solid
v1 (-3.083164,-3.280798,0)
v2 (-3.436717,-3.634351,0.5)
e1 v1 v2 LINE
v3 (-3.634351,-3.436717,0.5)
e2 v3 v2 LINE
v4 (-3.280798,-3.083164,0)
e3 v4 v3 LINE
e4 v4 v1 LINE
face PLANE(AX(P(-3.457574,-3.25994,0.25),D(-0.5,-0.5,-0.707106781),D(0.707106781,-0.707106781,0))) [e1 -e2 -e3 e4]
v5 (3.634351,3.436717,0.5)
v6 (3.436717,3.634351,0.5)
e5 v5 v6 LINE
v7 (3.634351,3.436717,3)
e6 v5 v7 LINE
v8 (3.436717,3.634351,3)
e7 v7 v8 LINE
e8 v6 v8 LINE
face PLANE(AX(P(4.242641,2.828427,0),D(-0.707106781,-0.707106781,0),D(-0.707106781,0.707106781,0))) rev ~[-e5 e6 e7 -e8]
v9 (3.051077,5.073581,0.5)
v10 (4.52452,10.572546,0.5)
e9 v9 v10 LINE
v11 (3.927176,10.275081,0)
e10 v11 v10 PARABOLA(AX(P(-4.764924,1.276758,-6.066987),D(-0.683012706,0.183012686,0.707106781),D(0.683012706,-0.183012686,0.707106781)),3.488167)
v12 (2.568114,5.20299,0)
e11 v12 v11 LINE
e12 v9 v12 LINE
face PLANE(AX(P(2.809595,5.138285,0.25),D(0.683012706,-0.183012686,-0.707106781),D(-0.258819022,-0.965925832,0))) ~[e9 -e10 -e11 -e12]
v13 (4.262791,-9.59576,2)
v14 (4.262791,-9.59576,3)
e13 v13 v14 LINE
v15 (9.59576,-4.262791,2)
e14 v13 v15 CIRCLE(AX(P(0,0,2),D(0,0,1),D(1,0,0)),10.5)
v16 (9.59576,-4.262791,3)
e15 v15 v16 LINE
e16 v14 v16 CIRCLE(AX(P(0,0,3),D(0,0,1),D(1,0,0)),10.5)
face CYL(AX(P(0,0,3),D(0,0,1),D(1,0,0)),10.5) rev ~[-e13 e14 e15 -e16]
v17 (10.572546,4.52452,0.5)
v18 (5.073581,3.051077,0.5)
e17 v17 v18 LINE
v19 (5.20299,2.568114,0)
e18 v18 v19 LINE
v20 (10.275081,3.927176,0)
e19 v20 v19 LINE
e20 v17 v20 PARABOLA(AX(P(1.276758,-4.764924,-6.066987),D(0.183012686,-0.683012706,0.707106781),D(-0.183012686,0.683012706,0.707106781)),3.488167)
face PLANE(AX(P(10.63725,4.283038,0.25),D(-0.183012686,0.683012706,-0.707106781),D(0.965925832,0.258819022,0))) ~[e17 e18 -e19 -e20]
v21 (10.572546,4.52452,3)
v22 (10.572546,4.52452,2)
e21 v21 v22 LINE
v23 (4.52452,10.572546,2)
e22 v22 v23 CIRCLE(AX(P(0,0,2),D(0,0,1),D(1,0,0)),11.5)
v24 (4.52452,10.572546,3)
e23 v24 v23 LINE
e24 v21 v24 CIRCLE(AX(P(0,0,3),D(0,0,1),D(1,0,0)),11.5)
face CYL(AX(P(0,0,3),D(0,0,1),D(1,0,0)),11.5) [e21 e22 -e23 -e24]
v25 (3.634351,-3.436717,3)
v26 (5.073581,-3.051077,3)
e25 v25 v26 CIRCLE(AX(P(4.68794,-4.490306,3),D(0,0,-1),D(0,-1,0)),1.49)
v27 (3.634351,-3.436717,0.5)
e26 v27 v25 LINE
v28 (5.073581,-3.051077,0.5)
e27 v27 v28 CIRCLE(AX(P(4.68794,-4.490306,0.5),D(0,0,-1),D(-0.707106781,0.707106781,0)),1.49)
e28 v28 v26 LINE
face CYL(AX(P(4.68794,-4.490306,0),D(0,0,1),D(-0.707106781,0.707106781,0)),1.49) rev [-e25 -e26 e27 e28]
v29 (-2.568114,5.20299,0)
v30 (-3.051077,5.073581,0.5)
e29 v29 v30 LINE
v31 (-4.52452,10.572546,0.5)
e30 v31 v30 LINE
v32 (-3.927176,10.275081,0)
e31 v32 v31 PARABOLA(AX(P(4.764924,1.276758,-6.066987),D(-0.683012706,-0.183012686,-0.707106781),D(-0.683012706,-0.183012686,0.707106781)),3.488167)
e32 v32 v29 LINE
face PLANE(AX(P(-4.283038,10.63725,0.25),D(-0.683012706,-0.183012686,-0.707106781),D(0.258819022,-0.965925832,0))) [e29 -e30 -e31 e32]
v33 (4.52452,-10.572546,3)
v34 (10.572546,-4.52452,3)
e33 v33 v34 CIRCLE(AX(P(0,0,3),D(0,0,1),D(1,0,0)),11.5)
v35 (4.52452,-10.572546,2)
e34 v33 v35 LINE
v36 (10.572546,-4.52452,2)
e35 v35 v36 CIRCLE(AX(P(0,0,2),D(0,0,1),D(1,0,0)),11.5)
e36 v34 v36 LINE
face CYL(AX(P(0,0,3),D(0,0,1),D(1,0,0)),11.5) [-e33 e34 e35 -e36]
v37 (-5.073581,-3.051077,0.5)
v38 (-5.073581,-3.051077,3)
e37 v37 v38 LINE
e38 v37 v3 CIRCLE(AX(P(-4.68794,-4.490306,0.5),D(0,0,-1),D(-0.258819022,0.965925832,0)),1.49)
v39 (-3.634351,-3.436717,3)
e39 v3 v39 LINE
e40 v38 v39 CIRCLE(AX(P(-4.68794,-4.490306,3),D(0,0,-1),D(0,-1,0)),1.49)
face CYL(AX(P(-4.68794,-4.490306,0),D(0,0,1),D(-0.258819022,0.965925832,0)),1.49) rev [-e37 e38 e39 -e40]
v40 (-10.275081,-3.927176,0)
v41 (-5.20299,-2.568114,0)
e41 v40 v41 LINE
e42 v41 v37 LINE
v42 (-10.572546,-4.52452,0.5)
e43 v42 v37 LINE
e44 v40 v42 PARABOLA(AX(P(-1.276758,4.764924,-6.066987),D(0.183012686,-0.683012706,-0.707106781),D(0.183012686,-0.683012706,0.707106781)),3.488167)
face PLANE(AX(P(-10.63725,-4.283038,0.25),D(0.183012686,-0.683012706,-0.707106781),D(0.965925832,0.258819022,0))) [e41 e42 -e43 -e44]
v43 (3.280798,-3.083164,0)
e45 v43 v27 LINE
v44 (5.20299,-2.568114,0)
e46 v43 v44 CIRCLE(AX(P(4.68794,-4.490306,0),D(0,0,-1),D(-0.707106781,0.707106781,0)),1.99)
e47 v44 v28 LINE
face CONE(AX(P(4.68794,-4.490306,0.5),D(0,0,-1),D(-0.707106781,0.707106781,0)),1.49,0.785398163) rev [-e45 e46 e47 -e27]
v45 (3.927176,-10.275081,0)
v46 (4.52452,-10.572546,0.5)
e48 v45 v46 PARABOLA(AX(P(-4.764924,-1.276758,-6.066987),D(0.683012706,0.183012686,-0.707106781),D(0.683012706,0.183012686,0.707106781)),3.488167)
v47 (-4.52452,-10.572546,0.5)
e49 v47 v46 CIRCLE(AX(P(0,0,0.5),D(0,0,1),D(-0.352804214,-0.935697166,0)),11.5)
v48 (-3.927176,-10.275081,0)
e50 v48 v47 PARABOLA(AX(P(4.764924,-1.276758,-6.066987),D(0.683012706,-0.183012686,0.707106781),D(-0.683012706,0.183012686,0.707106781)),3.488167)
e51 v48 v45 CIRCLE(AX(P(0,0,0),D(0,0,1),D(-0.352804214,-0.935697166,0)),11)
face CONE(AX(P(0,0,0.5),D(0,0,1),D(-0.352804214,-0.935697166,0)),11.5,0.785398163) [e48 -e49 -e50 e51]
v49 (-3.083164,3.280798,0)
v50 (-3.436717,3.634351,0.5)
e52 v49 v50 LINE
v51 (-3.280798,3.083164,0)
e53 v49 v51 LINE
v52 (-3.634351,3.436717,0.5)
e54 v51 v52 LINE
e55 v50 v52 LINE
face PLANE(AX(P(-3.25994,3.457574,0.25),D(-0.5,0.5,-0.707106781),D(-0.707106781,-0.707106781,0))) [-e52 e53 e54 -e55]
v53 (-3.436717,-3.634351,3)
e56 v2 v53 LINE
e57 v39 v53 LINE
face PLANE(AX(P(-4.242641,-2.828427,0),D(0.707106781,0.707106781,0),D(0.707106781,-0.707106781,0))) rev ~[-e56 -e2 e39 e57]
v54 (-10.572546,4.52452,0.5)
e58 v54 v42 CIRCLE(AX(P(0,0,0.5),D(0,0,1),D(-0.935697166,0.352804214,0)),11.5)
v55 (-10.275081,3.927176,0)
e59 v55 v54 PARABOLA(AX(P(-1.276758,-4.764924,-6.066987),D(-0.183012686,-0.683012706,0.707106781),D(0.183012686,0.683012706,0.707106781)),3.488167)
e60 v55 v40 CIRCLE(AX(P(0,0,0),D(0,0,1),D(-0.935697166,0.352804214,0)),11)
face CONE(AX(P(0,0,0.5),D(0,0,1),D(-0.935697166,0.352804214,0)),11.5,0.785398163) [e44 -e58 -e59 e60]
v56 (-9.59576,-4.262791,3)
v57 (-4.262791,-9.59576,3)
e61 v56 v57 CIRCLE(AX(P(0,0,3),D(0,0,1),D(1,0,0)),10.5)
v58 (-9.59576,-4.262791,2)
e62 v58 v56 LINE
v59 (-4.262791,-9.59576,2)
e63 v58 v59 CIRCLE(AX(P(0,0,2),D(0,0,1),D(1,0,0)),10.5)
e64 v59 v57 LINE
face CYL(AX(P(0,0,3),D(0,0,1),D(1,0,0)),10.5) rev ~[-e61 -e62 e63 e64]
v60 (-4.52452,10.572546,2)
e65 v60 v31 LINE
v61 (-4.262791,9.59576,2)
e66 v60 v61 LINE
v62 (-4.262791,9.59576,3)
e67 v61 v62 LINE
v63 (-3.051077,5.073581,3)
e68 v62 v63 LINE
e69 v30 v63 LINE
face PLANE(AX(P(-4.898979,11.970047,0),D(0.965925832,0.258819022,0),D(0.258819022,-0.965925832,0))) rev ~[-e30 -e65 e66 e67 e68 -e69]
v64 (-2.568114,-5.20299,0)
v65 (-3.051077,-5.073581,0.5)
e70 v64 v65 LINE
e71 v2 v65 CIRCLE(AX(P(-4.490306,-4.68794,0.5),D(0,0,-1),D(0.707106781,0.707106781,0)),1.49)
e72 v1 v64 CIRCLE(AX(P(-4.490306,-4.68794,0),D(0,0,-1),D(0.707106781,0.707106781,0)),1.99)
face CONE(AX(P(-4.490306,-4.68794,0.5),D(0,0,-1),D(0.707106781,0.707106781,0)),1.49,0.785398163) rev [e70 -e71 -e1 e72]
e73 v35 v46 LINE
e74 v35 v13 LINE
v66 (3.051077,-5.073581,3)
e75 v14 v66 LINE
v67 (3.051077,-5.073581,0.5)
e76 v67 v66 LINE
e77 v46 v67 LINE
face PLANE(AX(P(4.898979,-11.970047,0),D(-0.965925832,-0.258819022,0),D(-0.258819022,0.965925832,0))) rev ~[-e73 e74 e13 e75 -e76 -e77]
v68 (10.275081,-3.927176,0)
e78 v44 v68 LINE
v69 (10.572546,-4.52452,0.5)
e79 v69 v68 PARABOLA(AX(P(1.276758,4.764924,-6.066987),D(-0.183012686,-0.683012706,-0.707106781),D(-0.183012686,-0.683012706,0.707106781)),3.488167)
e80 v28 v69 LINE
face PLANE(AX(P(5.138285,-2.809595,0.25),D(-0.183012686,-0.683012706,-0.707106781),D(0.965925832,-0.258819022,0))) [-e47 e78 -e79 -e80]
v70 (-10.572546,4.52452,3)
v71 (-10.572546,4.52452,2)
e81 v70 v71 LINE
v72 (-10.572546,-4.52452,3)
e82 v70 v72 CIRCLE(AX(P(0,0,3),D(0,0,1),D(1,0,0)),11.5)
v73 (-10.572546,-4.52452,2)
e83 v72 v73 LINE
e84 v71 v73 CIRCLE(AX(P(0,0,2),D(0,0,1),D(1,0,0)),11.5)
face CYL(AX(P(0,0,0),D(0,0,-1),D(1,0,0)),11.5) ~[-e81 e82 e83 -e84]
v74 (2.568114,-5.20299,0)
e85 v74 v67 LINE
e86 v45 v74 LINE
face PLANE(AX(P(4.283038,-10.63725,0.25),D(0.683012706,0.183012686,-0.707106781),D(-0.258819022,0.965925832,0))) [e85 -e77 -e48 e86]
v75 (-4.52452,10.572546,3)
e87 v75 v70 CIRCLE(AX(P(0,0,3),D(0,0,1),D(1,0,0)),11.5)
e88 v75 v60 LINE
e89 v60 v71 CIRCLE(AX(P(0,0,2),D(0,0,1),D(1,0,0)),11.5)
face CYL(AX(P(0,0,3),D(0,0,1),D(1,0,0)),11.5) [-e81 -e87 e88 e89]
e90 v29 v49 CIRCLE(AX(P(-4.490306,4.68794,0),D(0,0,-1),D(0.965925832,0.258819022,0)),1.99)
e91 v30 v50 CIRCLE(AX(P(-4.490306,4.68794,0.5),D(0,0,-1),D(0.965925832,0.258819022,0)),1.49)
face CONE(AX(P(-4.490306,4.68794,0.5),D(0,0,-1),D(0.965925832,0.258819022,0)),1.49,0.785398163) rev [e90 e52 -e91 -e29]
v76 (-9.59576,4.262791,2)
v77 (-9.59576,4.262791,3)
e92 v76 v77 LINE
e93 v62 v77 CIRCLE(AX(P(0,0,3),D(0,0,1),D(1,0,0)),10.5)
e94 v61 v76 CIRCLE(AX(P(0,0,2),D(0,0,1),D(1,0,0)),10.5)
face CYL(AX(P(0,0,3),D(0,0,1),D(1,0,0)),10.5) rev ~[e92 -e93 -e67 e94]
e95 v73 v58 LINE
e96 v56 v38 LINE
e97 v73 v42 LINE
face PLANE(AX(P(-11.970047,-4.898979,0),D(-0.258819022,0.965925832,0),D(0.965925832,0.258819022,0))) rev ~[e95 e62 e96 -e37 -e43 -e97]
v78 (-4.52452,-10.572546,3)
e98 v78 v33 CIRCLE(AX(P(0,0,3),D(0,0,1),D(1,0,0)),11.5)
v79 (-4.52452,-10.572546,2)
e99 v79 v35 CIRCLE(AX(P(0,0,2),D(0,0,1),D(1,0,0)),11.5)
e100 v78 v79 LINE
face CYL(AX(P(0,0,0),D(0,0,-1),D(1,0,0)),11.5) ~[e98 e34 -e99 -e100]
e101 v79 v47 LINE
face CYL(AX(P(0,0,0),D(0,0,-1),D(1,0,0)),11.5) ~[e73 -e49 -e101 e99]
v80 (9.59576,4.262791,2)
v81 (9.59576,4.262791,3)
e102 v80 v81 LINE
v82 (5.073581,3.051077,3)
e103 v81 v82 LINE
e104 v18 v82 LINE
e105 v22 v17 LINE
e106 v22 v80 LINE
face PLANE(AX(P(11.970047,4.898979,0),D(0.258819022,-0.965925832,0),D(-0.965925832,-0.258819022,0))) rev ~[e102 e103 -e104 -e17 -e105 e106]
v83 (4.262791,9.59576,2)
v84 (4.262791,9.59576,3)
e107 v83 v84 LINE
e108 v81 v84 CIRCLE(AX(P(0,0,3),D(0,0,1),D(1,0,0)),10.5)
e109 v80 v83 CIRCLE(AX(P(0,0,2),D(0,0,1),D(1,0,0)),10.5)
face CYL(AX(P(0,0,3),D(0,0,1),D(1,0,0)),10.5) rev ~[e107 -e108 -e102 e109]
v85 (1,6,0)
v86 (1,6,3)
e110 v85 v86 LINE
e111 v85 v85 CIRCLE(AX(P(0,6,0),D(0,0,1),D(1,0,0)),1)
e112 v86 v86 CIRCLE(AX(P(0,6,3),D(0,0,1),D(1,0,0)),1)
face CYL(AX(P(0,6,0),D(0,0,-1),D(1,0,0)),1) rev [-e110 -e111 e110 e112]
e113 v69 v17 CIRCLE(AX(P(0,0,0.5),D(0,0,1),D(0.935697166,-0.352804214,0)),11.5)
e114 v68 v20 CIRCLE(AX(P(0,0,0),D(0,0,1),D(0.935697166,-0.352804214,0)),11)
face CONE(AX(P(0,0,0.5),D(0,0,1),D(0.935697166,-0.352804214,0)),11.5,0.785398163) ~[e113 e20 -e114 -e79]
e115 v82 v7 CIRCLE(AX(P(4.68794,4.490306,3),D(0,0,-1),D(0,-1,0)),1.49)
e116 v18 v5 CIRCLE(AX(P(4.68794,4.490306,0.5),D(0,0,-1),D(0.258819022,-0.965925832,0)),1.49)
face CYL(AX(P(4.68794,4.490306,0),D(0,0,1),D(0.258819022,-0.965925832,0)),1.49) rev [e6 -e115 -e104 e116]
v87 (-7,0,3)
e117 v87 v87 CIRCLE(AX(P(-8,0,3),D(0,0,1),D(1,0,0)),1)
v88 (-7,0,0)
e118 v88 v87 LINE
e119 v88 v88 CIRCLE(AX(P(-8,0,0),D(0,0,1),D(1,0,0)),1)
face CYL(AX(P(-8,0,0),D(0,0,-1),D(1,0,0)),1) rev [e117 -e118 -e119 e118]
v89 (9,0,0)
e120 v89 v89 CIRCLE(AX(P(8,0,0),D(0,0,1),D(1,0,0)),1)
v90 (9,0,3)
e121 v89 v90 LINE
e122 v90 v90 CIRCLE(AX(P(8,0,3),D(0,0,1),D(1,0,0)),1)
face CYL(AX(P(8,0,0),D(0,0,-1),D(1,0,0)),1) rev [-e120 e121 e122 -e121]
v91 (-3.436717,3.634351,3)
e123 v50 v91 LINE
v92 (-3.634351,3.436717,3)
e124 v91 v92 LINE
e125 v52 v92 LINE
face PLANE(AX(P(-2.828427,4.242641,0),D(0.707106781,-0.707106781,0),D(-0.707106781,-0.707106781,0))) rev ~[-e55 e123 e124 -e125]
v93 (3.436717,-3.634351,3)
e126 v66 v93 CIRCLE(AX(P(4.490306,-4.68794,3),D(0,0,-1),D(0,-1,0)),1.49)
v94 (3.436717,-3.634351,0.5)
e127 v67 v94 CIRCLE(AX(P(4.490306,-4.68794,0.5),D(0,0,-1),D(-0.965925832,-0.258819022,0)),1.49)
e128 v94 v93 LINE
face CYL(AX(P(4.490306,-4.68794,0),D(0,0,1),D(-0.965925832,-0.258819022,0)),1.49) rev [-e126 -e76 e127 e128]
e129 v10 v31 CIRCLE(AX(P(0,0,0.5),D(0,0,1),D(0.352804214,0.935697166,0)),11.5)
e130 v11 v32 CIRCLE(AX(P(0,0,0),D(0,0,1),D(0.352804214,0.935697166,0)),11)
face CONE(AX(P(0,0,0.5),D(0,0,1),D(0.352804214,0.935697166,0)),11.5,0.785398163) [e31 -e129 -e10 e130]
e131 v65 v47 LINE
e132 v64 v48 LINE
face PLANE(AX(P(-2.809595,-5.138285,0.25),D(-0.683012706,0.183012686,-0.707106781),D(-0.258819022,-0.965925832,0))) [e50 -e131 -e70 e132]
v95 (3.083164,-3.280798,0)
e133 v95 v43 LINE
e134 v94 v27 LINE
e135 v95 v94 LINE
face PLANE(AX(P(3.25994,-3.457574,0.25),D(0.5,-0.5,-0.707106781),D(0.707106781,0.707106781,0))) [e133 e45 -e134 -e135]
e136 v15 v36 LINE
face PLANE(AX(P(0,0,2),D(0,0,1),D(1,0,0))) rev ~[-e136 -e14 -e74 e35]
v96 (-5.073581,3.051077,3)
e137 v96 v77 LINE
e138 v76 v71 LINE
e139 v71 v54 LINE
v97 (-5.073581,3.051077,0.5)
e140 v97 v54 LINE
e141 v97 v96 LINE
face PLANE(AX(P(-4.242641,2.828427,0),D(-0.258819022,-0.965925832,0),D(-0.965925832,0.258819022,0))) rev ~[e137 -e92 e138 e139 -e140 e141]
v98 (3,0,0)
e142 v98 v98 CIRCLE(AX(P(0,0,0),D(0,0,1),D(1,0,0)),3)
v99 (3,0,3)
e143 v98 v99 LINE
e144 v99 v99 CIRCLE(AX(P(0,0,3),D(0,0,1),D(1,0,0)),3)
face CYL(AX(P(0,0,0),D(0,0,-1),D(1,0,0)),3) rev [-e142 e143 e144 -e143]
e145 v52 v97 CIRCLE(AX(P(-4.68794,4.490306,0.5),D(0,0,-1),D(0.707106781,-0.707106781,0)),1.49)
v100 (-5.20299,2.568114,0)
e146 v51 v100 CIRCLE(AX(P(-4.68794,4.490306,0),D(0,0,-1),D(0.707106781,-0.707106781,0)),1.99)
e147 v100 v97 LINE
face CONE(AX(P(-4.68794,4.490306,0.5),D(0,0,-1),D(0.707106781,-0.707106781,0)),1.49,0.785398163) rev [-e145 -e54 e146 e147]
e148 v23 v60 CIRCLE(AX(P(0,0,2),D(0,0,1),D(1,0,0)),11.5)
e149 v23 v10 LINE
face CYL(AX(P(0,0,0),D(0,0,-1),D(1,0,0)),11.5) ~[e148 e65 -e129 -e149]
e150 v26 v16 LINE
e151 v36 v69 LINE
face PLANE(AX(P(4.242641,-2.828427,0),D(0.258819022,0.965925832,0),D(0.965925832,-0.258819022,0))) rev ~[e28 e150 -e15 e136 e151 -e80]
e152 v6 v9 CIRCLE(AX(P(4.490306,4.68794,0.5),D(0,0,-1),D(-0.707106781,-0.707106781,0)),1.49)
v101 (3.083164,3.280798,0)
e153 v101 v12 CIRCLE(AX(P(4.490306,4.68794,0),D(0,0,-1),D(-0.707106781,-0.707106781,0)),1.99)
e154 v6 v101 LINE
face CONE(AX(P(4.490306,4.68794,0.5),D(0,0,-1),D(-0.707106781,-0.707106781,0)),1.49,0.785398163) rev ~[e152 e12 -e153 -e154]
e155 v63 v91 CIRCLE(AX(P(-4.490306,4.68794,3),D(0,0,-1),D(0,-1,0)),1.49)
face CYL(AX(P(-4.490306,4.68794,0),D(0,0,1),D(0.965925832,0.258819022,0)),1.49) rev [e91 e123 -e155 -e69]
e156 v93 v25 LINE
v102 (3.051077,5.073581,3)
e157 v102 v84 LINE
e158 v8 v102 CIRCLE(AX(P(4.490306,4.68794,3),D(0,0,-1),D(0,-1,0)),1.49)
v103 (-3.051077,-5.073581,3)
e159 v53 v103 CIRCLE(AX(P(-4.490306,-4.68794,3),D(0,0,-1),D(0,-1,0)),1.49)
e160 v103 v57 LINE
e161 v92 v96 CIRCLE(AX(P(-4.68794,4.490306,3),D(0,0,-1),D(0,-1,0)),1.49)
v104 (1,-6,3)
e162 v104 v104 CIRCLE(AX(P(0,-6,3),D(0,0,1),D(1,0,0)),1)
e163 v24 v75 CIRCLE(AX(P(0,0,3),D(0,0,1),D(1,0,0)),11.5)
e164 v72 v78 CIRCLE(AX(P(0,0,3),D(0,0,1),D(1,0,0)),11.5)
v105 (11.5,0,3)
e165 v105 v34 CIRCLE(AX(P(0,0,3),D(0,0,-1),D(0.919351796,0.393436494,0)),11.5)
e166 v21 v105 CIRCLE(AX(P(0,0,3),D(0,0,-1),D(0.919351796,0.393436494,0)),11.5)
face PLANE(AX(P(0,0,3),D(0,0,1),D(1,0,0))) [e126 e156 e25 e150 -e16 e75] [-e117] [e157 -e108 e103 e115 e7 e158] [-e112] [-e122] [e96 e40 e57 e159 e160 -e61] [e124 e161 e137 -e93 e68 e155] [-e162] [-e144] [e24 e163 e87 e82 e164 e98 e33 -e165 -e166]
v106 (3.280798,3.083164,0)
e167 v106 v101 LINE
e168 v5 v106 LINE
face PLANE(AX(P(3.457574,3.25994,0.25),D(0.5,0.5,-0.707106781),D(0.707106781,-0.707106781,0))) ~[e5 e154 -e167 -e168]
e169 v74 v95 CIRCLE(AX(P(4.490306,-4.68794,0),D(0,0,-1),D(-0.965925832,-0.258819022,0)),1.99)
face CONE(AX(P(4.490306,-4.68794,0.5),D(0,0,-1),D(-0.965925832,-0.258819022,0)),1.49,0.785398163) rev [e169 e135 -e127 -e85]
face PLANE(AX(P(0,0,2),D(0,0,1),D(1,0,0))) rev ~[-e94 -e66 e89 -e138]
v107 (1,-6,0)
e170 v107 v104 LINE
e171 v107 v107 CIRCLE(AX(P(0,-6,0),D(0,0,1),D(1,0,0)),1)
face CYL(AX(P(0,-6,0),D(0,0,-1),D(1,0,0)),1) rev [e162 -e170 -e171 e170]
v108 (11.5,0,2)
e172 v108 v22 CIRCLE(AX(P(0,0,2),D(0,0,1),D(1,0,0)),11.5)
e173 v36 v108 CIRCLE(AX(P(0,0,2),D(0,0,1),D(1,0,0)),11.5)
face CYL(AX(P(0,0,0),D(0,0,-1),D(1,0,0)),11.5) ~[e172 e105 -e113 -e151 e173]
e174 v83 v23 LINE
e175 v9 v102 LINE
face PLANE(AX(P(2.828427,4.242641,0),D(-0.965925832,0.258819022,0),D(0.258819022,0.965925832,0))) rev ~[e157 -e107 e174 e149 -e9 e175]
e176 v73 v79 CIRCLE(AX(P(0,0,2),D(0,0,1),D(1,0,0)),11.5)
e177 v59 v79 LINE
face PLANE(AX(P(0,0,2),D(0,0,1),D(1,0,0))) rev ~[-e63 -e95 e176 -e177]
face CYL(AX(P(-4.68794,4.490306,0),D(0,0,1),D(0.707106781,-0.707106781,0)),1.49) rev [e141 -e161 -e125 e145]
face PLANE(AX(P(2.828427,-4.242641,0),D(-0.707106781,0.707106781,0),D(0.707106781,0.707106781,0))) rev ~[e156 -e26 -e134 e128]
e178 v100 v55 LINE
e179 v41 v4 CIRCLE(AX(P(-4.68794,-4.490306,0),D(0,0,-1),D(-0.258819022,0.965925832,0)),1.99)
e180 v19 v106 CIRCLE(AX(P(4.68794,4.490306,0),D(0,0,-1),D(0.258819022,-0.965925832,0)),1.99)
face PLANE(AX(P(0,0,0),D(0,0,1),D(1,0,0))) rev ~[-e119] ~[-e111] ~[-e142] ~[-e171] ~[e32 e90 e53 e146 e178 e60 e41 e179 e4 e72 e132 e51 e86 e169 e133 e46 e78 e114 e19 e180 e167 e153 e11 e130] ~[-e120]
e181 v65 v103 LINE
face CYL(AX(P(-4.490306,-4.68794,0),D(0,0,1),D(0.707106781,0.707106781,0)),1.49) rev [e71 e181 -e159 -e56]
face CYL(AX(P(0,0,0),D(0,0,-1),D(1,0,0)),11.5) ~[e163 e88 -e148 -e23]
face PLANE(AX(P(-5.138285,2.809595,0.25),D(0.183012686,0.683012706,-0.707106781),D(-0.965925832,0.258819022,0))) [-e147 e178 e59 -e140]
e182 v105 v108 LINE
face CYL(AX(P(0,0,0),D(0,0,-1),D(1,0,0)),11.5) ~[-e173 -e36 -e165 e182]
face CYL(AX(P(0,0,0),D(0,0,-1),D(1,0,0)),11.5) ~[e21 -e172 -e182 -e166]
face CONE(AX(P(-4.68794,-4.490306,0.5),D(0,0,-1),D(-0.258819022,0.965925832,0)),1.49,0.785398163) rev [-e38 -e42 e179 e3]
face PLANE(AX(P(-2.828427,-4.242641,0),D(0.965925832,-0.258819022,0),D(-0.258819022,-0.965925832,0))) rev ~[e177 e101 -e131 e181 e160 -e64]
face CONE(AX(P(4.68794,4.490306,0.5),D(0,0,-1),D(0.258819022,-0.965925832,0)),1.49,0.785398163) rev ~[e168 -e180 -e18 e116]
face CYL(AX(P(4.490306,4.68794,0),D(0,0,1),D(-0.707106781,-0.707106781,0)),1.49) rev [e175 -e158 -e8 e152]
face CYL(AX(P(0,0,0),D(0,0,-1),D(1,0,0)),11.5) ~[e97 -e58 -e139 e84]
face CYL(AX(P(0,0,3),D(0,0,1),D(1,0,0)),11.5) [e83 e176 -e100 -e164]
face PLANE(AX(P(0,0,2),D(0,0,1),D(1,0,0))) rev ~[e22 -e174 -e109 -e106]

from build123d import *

# Parameters (mm, degrees)
SKETCH002_R                = 11.5
SKETCH002_R_2              = 10.5
EXTRUDE005_DEPTH           = 1
EXTRUDE004_DEPTH           = 3
EXTRUDE004_PLACEMENT_ANGLE = 90
EXTRUDE002_DEPTH           = 3
EXTRUDE002_PLACEMENT_ANGLE = 90
EXTRUDE001_DEPTH           = 3
EXTRUDE003_DEPTH           = 3
EXTRUDE003_PLACEMENT_ANGLE = 180
SKETCH_R                   = 11.5
SKETCH_R_2                 = 1
SKETCH_R_3                 = 3
EXTRUDE_DEPTH              = 3
FILLET_R                   = 1.49
CHAMFER_SIZE               = 0.5
CHAMFER001_SIZE            = 0.5


with BuildPart() as extrude005:
    # Sketch002 (on Face4 of Cut) → Extrude005 (new body)
    with BuildSketch(Plane.XY.offset(3)):
        Circle(SKETCH002_R)
        Circle(SKETCH002_R_2, mode=Mode.SUBTRACT)
    extrude(amount=-EXTRUDE005_DEPTH)


with BuildPart() as extrude004:
    # Sketch001 (on Face7 of Extrude) → Extrude004 (new body)
    with BuildSketch(Plane(origin=(0, 0, 0), x_dir=(1, 0, 0), z_dir=(0, 0, -1))):
        Polygon((-11.970047, 4.898979), (-4.242641, 2.828427), (-2.828427, 4.242641), (-4.898979, 11.970047), align=None)
    extrude(amount=-EXTRUDE004_DEPTH)


with BuildPart() as extrude004_1:
    # Extrude004 placement: moved
    add(extrude004.part.rotate(Axis((0, 0, 0), (0, 0, -1)), EXTRUDE004_PLACEMENT_ANGLE))


with BuildPart() as extrude002:
    # Sketch001 (on Face7 of Extrude) → Extrude002 (new body)
    with BuildSketch(Plane(origin=(0, 0, 0), x_dir=(1, 0, 0), z_dir=(0, 0, -1))):
        Polygon((-11.970047, 4.898979), (-4.242641, 2.828427), (-2.828427, 4.242641), (-4.898979, 11.970047), align=None)
    extrude(amount=-EXTRUDE002_DEPTH)


with BuildPart() as extrude002_1:
    # Extrude002 placement: moved
    add(extrude002.part.rotate(Axis((0, 0, 0), (0, 0, 1)), EXTRUDE002_PLACEMENT_ANGLE))


with BuildPart() as extrude001:
    # Sketch001 (on Face7 of Extrude) → Extrude001 (new body)
    with BuildSketch(Plane(origin=(0, 0, 0), x_dir=(1, 0, 0), z_dir=(0, 0, -1))):
        Polygon((-11.970047, 4.898979), (-4.242641, 2.828427), (-2.828427, 4.242641), (-4.898979, 11.970047), align=None)
    extrude(amount=-EXTRUDE001_DEPTH)


with BuildPart() as fusion:
    # Sketch001 (on Face7 of Extrude) → Extrude003 (new body)
    with BuildSketch(Plane(origin=(0, 0, 0), x_dir=(1, 0, 0), z_dir=(0, 0, -1))):
        Polygon((-11.970047, 4.898979), (-4.242641, 2.828427), (-2.828427, 4.242641), (-4.898979, 11.970047), align=None)
    extrude(amount=-EXTRUDE003_DEPTH)


with BuildPart() as fusion_1:
    # Extrude003 placement: moved
    add(fusion.part.rotate(Axis((0, 0, 0), (0, 0, 1)), EXTRUDE003_PLACEMENT_ANGLE))

    # Fusion: union Extrude004, Extrude002, Extrude001
    add(extrude004_1.part)
    add(extrude002_1.part)
    add(extrude001.part)


with BuildPart() as fusion002:
    # Sketch → Extrude (new body)
    with BuildSketch(Plane.XY):
        Circle(SKETCH_R)
        with Locations((0, 6)):
            Circle(SKETCH_R_2, mode=Mode.SUBTRACT)
        with Locations((-8, 0)):
            Circle(SKETCH_R_2, mode=Mode.SUBTRACT)
        with Locations((0, -6)):
            Circle(SKETCH_R_2, mode=Mode.SUBTRACT)
        with Locations((8, 0)):
            Circle(SKETCH_R_2, mode=Mode.SUBTRACT)
        Circle(SKETCH_R_3, mode=Mode.SUBTRACT)
    extrude(amount=EXTRUDE_DEPTH)

    # Cut: cut Fusion
    add(fusion_1.part, mode=Mode.SUBTRACT)

    # Fillet
    fillet_edges = [fusion002.edges().sort_by_distance(p)[0] for p in [
        (4.242641, 2.828427, 1.5),
        (4.242641, -2.828427, 1.5),
        (2.828427, -4.242641, 1.5),
        (-2.828427, -4.242641, 1.5),
        (-4.242641, -2.828427, 1.5),
        (-4.242641, 2.828427, 1.5),
        (-2.828427, 4.242641, 1.5),
        (2.828427, 4.242641, 1.5),
    ]]
    fillet(fillet_edges, radius=FILLET_R)

    # Chamfer
    chamfer_edges = [fusion002.edges().sort_by_distance(p)[0] for p in [
        (7.823063, -3.787798, 0),
        (4.302299, -3.051077, 0),
        (3.535534, -3.535534, 0),
        (3.051077, -4.302299, 0),
        (7.823063, 3.787798, 0),
        (3.787798, -7.823063, 0),
        (4.302299, 3.051077, 0),
        (3.535534, 3.535534, 0),
        (-3.787798, -7.823063, 0),
        (3.051077, 4.302299, 0),
        (-3.051077, -4.302299, 0),
        (3.787798, 7.823063, 0),
        (-3.535534, -3.535534, 0),
        (-4.302299, -3.051077, 0),
        (-3.787798, 7.823063, 0),
        (-7.823063, -3.787798, 0),
        (-3.051077, 4.302299, 0),
        (-3.535534, 3.535534, 0),
        (-7.823063, 3.787798, 0),
        (-4.302299, 3.051077, 0),
    ]]
    chamfer(chamfer_edges, length=CHAMFER_SIZE)

    # Chamfer001
    chamfer001_edges = [fusion002.edges().sort_by_distance(p)[0] for p in [
        (11.313619, -2.062044, 0),
        (11.313619, 2.062044, 0),
        (0, -11.5, 0),
        (0, 11.5, 0),
        (-11.5, 0, 0),
    ]]
    chamfer(chamfer001_edges, length=CHAMFER001_SIZE)

    # Fusion002: union Extrude005
    add(extrude005.part)


solid = fusion002.part
